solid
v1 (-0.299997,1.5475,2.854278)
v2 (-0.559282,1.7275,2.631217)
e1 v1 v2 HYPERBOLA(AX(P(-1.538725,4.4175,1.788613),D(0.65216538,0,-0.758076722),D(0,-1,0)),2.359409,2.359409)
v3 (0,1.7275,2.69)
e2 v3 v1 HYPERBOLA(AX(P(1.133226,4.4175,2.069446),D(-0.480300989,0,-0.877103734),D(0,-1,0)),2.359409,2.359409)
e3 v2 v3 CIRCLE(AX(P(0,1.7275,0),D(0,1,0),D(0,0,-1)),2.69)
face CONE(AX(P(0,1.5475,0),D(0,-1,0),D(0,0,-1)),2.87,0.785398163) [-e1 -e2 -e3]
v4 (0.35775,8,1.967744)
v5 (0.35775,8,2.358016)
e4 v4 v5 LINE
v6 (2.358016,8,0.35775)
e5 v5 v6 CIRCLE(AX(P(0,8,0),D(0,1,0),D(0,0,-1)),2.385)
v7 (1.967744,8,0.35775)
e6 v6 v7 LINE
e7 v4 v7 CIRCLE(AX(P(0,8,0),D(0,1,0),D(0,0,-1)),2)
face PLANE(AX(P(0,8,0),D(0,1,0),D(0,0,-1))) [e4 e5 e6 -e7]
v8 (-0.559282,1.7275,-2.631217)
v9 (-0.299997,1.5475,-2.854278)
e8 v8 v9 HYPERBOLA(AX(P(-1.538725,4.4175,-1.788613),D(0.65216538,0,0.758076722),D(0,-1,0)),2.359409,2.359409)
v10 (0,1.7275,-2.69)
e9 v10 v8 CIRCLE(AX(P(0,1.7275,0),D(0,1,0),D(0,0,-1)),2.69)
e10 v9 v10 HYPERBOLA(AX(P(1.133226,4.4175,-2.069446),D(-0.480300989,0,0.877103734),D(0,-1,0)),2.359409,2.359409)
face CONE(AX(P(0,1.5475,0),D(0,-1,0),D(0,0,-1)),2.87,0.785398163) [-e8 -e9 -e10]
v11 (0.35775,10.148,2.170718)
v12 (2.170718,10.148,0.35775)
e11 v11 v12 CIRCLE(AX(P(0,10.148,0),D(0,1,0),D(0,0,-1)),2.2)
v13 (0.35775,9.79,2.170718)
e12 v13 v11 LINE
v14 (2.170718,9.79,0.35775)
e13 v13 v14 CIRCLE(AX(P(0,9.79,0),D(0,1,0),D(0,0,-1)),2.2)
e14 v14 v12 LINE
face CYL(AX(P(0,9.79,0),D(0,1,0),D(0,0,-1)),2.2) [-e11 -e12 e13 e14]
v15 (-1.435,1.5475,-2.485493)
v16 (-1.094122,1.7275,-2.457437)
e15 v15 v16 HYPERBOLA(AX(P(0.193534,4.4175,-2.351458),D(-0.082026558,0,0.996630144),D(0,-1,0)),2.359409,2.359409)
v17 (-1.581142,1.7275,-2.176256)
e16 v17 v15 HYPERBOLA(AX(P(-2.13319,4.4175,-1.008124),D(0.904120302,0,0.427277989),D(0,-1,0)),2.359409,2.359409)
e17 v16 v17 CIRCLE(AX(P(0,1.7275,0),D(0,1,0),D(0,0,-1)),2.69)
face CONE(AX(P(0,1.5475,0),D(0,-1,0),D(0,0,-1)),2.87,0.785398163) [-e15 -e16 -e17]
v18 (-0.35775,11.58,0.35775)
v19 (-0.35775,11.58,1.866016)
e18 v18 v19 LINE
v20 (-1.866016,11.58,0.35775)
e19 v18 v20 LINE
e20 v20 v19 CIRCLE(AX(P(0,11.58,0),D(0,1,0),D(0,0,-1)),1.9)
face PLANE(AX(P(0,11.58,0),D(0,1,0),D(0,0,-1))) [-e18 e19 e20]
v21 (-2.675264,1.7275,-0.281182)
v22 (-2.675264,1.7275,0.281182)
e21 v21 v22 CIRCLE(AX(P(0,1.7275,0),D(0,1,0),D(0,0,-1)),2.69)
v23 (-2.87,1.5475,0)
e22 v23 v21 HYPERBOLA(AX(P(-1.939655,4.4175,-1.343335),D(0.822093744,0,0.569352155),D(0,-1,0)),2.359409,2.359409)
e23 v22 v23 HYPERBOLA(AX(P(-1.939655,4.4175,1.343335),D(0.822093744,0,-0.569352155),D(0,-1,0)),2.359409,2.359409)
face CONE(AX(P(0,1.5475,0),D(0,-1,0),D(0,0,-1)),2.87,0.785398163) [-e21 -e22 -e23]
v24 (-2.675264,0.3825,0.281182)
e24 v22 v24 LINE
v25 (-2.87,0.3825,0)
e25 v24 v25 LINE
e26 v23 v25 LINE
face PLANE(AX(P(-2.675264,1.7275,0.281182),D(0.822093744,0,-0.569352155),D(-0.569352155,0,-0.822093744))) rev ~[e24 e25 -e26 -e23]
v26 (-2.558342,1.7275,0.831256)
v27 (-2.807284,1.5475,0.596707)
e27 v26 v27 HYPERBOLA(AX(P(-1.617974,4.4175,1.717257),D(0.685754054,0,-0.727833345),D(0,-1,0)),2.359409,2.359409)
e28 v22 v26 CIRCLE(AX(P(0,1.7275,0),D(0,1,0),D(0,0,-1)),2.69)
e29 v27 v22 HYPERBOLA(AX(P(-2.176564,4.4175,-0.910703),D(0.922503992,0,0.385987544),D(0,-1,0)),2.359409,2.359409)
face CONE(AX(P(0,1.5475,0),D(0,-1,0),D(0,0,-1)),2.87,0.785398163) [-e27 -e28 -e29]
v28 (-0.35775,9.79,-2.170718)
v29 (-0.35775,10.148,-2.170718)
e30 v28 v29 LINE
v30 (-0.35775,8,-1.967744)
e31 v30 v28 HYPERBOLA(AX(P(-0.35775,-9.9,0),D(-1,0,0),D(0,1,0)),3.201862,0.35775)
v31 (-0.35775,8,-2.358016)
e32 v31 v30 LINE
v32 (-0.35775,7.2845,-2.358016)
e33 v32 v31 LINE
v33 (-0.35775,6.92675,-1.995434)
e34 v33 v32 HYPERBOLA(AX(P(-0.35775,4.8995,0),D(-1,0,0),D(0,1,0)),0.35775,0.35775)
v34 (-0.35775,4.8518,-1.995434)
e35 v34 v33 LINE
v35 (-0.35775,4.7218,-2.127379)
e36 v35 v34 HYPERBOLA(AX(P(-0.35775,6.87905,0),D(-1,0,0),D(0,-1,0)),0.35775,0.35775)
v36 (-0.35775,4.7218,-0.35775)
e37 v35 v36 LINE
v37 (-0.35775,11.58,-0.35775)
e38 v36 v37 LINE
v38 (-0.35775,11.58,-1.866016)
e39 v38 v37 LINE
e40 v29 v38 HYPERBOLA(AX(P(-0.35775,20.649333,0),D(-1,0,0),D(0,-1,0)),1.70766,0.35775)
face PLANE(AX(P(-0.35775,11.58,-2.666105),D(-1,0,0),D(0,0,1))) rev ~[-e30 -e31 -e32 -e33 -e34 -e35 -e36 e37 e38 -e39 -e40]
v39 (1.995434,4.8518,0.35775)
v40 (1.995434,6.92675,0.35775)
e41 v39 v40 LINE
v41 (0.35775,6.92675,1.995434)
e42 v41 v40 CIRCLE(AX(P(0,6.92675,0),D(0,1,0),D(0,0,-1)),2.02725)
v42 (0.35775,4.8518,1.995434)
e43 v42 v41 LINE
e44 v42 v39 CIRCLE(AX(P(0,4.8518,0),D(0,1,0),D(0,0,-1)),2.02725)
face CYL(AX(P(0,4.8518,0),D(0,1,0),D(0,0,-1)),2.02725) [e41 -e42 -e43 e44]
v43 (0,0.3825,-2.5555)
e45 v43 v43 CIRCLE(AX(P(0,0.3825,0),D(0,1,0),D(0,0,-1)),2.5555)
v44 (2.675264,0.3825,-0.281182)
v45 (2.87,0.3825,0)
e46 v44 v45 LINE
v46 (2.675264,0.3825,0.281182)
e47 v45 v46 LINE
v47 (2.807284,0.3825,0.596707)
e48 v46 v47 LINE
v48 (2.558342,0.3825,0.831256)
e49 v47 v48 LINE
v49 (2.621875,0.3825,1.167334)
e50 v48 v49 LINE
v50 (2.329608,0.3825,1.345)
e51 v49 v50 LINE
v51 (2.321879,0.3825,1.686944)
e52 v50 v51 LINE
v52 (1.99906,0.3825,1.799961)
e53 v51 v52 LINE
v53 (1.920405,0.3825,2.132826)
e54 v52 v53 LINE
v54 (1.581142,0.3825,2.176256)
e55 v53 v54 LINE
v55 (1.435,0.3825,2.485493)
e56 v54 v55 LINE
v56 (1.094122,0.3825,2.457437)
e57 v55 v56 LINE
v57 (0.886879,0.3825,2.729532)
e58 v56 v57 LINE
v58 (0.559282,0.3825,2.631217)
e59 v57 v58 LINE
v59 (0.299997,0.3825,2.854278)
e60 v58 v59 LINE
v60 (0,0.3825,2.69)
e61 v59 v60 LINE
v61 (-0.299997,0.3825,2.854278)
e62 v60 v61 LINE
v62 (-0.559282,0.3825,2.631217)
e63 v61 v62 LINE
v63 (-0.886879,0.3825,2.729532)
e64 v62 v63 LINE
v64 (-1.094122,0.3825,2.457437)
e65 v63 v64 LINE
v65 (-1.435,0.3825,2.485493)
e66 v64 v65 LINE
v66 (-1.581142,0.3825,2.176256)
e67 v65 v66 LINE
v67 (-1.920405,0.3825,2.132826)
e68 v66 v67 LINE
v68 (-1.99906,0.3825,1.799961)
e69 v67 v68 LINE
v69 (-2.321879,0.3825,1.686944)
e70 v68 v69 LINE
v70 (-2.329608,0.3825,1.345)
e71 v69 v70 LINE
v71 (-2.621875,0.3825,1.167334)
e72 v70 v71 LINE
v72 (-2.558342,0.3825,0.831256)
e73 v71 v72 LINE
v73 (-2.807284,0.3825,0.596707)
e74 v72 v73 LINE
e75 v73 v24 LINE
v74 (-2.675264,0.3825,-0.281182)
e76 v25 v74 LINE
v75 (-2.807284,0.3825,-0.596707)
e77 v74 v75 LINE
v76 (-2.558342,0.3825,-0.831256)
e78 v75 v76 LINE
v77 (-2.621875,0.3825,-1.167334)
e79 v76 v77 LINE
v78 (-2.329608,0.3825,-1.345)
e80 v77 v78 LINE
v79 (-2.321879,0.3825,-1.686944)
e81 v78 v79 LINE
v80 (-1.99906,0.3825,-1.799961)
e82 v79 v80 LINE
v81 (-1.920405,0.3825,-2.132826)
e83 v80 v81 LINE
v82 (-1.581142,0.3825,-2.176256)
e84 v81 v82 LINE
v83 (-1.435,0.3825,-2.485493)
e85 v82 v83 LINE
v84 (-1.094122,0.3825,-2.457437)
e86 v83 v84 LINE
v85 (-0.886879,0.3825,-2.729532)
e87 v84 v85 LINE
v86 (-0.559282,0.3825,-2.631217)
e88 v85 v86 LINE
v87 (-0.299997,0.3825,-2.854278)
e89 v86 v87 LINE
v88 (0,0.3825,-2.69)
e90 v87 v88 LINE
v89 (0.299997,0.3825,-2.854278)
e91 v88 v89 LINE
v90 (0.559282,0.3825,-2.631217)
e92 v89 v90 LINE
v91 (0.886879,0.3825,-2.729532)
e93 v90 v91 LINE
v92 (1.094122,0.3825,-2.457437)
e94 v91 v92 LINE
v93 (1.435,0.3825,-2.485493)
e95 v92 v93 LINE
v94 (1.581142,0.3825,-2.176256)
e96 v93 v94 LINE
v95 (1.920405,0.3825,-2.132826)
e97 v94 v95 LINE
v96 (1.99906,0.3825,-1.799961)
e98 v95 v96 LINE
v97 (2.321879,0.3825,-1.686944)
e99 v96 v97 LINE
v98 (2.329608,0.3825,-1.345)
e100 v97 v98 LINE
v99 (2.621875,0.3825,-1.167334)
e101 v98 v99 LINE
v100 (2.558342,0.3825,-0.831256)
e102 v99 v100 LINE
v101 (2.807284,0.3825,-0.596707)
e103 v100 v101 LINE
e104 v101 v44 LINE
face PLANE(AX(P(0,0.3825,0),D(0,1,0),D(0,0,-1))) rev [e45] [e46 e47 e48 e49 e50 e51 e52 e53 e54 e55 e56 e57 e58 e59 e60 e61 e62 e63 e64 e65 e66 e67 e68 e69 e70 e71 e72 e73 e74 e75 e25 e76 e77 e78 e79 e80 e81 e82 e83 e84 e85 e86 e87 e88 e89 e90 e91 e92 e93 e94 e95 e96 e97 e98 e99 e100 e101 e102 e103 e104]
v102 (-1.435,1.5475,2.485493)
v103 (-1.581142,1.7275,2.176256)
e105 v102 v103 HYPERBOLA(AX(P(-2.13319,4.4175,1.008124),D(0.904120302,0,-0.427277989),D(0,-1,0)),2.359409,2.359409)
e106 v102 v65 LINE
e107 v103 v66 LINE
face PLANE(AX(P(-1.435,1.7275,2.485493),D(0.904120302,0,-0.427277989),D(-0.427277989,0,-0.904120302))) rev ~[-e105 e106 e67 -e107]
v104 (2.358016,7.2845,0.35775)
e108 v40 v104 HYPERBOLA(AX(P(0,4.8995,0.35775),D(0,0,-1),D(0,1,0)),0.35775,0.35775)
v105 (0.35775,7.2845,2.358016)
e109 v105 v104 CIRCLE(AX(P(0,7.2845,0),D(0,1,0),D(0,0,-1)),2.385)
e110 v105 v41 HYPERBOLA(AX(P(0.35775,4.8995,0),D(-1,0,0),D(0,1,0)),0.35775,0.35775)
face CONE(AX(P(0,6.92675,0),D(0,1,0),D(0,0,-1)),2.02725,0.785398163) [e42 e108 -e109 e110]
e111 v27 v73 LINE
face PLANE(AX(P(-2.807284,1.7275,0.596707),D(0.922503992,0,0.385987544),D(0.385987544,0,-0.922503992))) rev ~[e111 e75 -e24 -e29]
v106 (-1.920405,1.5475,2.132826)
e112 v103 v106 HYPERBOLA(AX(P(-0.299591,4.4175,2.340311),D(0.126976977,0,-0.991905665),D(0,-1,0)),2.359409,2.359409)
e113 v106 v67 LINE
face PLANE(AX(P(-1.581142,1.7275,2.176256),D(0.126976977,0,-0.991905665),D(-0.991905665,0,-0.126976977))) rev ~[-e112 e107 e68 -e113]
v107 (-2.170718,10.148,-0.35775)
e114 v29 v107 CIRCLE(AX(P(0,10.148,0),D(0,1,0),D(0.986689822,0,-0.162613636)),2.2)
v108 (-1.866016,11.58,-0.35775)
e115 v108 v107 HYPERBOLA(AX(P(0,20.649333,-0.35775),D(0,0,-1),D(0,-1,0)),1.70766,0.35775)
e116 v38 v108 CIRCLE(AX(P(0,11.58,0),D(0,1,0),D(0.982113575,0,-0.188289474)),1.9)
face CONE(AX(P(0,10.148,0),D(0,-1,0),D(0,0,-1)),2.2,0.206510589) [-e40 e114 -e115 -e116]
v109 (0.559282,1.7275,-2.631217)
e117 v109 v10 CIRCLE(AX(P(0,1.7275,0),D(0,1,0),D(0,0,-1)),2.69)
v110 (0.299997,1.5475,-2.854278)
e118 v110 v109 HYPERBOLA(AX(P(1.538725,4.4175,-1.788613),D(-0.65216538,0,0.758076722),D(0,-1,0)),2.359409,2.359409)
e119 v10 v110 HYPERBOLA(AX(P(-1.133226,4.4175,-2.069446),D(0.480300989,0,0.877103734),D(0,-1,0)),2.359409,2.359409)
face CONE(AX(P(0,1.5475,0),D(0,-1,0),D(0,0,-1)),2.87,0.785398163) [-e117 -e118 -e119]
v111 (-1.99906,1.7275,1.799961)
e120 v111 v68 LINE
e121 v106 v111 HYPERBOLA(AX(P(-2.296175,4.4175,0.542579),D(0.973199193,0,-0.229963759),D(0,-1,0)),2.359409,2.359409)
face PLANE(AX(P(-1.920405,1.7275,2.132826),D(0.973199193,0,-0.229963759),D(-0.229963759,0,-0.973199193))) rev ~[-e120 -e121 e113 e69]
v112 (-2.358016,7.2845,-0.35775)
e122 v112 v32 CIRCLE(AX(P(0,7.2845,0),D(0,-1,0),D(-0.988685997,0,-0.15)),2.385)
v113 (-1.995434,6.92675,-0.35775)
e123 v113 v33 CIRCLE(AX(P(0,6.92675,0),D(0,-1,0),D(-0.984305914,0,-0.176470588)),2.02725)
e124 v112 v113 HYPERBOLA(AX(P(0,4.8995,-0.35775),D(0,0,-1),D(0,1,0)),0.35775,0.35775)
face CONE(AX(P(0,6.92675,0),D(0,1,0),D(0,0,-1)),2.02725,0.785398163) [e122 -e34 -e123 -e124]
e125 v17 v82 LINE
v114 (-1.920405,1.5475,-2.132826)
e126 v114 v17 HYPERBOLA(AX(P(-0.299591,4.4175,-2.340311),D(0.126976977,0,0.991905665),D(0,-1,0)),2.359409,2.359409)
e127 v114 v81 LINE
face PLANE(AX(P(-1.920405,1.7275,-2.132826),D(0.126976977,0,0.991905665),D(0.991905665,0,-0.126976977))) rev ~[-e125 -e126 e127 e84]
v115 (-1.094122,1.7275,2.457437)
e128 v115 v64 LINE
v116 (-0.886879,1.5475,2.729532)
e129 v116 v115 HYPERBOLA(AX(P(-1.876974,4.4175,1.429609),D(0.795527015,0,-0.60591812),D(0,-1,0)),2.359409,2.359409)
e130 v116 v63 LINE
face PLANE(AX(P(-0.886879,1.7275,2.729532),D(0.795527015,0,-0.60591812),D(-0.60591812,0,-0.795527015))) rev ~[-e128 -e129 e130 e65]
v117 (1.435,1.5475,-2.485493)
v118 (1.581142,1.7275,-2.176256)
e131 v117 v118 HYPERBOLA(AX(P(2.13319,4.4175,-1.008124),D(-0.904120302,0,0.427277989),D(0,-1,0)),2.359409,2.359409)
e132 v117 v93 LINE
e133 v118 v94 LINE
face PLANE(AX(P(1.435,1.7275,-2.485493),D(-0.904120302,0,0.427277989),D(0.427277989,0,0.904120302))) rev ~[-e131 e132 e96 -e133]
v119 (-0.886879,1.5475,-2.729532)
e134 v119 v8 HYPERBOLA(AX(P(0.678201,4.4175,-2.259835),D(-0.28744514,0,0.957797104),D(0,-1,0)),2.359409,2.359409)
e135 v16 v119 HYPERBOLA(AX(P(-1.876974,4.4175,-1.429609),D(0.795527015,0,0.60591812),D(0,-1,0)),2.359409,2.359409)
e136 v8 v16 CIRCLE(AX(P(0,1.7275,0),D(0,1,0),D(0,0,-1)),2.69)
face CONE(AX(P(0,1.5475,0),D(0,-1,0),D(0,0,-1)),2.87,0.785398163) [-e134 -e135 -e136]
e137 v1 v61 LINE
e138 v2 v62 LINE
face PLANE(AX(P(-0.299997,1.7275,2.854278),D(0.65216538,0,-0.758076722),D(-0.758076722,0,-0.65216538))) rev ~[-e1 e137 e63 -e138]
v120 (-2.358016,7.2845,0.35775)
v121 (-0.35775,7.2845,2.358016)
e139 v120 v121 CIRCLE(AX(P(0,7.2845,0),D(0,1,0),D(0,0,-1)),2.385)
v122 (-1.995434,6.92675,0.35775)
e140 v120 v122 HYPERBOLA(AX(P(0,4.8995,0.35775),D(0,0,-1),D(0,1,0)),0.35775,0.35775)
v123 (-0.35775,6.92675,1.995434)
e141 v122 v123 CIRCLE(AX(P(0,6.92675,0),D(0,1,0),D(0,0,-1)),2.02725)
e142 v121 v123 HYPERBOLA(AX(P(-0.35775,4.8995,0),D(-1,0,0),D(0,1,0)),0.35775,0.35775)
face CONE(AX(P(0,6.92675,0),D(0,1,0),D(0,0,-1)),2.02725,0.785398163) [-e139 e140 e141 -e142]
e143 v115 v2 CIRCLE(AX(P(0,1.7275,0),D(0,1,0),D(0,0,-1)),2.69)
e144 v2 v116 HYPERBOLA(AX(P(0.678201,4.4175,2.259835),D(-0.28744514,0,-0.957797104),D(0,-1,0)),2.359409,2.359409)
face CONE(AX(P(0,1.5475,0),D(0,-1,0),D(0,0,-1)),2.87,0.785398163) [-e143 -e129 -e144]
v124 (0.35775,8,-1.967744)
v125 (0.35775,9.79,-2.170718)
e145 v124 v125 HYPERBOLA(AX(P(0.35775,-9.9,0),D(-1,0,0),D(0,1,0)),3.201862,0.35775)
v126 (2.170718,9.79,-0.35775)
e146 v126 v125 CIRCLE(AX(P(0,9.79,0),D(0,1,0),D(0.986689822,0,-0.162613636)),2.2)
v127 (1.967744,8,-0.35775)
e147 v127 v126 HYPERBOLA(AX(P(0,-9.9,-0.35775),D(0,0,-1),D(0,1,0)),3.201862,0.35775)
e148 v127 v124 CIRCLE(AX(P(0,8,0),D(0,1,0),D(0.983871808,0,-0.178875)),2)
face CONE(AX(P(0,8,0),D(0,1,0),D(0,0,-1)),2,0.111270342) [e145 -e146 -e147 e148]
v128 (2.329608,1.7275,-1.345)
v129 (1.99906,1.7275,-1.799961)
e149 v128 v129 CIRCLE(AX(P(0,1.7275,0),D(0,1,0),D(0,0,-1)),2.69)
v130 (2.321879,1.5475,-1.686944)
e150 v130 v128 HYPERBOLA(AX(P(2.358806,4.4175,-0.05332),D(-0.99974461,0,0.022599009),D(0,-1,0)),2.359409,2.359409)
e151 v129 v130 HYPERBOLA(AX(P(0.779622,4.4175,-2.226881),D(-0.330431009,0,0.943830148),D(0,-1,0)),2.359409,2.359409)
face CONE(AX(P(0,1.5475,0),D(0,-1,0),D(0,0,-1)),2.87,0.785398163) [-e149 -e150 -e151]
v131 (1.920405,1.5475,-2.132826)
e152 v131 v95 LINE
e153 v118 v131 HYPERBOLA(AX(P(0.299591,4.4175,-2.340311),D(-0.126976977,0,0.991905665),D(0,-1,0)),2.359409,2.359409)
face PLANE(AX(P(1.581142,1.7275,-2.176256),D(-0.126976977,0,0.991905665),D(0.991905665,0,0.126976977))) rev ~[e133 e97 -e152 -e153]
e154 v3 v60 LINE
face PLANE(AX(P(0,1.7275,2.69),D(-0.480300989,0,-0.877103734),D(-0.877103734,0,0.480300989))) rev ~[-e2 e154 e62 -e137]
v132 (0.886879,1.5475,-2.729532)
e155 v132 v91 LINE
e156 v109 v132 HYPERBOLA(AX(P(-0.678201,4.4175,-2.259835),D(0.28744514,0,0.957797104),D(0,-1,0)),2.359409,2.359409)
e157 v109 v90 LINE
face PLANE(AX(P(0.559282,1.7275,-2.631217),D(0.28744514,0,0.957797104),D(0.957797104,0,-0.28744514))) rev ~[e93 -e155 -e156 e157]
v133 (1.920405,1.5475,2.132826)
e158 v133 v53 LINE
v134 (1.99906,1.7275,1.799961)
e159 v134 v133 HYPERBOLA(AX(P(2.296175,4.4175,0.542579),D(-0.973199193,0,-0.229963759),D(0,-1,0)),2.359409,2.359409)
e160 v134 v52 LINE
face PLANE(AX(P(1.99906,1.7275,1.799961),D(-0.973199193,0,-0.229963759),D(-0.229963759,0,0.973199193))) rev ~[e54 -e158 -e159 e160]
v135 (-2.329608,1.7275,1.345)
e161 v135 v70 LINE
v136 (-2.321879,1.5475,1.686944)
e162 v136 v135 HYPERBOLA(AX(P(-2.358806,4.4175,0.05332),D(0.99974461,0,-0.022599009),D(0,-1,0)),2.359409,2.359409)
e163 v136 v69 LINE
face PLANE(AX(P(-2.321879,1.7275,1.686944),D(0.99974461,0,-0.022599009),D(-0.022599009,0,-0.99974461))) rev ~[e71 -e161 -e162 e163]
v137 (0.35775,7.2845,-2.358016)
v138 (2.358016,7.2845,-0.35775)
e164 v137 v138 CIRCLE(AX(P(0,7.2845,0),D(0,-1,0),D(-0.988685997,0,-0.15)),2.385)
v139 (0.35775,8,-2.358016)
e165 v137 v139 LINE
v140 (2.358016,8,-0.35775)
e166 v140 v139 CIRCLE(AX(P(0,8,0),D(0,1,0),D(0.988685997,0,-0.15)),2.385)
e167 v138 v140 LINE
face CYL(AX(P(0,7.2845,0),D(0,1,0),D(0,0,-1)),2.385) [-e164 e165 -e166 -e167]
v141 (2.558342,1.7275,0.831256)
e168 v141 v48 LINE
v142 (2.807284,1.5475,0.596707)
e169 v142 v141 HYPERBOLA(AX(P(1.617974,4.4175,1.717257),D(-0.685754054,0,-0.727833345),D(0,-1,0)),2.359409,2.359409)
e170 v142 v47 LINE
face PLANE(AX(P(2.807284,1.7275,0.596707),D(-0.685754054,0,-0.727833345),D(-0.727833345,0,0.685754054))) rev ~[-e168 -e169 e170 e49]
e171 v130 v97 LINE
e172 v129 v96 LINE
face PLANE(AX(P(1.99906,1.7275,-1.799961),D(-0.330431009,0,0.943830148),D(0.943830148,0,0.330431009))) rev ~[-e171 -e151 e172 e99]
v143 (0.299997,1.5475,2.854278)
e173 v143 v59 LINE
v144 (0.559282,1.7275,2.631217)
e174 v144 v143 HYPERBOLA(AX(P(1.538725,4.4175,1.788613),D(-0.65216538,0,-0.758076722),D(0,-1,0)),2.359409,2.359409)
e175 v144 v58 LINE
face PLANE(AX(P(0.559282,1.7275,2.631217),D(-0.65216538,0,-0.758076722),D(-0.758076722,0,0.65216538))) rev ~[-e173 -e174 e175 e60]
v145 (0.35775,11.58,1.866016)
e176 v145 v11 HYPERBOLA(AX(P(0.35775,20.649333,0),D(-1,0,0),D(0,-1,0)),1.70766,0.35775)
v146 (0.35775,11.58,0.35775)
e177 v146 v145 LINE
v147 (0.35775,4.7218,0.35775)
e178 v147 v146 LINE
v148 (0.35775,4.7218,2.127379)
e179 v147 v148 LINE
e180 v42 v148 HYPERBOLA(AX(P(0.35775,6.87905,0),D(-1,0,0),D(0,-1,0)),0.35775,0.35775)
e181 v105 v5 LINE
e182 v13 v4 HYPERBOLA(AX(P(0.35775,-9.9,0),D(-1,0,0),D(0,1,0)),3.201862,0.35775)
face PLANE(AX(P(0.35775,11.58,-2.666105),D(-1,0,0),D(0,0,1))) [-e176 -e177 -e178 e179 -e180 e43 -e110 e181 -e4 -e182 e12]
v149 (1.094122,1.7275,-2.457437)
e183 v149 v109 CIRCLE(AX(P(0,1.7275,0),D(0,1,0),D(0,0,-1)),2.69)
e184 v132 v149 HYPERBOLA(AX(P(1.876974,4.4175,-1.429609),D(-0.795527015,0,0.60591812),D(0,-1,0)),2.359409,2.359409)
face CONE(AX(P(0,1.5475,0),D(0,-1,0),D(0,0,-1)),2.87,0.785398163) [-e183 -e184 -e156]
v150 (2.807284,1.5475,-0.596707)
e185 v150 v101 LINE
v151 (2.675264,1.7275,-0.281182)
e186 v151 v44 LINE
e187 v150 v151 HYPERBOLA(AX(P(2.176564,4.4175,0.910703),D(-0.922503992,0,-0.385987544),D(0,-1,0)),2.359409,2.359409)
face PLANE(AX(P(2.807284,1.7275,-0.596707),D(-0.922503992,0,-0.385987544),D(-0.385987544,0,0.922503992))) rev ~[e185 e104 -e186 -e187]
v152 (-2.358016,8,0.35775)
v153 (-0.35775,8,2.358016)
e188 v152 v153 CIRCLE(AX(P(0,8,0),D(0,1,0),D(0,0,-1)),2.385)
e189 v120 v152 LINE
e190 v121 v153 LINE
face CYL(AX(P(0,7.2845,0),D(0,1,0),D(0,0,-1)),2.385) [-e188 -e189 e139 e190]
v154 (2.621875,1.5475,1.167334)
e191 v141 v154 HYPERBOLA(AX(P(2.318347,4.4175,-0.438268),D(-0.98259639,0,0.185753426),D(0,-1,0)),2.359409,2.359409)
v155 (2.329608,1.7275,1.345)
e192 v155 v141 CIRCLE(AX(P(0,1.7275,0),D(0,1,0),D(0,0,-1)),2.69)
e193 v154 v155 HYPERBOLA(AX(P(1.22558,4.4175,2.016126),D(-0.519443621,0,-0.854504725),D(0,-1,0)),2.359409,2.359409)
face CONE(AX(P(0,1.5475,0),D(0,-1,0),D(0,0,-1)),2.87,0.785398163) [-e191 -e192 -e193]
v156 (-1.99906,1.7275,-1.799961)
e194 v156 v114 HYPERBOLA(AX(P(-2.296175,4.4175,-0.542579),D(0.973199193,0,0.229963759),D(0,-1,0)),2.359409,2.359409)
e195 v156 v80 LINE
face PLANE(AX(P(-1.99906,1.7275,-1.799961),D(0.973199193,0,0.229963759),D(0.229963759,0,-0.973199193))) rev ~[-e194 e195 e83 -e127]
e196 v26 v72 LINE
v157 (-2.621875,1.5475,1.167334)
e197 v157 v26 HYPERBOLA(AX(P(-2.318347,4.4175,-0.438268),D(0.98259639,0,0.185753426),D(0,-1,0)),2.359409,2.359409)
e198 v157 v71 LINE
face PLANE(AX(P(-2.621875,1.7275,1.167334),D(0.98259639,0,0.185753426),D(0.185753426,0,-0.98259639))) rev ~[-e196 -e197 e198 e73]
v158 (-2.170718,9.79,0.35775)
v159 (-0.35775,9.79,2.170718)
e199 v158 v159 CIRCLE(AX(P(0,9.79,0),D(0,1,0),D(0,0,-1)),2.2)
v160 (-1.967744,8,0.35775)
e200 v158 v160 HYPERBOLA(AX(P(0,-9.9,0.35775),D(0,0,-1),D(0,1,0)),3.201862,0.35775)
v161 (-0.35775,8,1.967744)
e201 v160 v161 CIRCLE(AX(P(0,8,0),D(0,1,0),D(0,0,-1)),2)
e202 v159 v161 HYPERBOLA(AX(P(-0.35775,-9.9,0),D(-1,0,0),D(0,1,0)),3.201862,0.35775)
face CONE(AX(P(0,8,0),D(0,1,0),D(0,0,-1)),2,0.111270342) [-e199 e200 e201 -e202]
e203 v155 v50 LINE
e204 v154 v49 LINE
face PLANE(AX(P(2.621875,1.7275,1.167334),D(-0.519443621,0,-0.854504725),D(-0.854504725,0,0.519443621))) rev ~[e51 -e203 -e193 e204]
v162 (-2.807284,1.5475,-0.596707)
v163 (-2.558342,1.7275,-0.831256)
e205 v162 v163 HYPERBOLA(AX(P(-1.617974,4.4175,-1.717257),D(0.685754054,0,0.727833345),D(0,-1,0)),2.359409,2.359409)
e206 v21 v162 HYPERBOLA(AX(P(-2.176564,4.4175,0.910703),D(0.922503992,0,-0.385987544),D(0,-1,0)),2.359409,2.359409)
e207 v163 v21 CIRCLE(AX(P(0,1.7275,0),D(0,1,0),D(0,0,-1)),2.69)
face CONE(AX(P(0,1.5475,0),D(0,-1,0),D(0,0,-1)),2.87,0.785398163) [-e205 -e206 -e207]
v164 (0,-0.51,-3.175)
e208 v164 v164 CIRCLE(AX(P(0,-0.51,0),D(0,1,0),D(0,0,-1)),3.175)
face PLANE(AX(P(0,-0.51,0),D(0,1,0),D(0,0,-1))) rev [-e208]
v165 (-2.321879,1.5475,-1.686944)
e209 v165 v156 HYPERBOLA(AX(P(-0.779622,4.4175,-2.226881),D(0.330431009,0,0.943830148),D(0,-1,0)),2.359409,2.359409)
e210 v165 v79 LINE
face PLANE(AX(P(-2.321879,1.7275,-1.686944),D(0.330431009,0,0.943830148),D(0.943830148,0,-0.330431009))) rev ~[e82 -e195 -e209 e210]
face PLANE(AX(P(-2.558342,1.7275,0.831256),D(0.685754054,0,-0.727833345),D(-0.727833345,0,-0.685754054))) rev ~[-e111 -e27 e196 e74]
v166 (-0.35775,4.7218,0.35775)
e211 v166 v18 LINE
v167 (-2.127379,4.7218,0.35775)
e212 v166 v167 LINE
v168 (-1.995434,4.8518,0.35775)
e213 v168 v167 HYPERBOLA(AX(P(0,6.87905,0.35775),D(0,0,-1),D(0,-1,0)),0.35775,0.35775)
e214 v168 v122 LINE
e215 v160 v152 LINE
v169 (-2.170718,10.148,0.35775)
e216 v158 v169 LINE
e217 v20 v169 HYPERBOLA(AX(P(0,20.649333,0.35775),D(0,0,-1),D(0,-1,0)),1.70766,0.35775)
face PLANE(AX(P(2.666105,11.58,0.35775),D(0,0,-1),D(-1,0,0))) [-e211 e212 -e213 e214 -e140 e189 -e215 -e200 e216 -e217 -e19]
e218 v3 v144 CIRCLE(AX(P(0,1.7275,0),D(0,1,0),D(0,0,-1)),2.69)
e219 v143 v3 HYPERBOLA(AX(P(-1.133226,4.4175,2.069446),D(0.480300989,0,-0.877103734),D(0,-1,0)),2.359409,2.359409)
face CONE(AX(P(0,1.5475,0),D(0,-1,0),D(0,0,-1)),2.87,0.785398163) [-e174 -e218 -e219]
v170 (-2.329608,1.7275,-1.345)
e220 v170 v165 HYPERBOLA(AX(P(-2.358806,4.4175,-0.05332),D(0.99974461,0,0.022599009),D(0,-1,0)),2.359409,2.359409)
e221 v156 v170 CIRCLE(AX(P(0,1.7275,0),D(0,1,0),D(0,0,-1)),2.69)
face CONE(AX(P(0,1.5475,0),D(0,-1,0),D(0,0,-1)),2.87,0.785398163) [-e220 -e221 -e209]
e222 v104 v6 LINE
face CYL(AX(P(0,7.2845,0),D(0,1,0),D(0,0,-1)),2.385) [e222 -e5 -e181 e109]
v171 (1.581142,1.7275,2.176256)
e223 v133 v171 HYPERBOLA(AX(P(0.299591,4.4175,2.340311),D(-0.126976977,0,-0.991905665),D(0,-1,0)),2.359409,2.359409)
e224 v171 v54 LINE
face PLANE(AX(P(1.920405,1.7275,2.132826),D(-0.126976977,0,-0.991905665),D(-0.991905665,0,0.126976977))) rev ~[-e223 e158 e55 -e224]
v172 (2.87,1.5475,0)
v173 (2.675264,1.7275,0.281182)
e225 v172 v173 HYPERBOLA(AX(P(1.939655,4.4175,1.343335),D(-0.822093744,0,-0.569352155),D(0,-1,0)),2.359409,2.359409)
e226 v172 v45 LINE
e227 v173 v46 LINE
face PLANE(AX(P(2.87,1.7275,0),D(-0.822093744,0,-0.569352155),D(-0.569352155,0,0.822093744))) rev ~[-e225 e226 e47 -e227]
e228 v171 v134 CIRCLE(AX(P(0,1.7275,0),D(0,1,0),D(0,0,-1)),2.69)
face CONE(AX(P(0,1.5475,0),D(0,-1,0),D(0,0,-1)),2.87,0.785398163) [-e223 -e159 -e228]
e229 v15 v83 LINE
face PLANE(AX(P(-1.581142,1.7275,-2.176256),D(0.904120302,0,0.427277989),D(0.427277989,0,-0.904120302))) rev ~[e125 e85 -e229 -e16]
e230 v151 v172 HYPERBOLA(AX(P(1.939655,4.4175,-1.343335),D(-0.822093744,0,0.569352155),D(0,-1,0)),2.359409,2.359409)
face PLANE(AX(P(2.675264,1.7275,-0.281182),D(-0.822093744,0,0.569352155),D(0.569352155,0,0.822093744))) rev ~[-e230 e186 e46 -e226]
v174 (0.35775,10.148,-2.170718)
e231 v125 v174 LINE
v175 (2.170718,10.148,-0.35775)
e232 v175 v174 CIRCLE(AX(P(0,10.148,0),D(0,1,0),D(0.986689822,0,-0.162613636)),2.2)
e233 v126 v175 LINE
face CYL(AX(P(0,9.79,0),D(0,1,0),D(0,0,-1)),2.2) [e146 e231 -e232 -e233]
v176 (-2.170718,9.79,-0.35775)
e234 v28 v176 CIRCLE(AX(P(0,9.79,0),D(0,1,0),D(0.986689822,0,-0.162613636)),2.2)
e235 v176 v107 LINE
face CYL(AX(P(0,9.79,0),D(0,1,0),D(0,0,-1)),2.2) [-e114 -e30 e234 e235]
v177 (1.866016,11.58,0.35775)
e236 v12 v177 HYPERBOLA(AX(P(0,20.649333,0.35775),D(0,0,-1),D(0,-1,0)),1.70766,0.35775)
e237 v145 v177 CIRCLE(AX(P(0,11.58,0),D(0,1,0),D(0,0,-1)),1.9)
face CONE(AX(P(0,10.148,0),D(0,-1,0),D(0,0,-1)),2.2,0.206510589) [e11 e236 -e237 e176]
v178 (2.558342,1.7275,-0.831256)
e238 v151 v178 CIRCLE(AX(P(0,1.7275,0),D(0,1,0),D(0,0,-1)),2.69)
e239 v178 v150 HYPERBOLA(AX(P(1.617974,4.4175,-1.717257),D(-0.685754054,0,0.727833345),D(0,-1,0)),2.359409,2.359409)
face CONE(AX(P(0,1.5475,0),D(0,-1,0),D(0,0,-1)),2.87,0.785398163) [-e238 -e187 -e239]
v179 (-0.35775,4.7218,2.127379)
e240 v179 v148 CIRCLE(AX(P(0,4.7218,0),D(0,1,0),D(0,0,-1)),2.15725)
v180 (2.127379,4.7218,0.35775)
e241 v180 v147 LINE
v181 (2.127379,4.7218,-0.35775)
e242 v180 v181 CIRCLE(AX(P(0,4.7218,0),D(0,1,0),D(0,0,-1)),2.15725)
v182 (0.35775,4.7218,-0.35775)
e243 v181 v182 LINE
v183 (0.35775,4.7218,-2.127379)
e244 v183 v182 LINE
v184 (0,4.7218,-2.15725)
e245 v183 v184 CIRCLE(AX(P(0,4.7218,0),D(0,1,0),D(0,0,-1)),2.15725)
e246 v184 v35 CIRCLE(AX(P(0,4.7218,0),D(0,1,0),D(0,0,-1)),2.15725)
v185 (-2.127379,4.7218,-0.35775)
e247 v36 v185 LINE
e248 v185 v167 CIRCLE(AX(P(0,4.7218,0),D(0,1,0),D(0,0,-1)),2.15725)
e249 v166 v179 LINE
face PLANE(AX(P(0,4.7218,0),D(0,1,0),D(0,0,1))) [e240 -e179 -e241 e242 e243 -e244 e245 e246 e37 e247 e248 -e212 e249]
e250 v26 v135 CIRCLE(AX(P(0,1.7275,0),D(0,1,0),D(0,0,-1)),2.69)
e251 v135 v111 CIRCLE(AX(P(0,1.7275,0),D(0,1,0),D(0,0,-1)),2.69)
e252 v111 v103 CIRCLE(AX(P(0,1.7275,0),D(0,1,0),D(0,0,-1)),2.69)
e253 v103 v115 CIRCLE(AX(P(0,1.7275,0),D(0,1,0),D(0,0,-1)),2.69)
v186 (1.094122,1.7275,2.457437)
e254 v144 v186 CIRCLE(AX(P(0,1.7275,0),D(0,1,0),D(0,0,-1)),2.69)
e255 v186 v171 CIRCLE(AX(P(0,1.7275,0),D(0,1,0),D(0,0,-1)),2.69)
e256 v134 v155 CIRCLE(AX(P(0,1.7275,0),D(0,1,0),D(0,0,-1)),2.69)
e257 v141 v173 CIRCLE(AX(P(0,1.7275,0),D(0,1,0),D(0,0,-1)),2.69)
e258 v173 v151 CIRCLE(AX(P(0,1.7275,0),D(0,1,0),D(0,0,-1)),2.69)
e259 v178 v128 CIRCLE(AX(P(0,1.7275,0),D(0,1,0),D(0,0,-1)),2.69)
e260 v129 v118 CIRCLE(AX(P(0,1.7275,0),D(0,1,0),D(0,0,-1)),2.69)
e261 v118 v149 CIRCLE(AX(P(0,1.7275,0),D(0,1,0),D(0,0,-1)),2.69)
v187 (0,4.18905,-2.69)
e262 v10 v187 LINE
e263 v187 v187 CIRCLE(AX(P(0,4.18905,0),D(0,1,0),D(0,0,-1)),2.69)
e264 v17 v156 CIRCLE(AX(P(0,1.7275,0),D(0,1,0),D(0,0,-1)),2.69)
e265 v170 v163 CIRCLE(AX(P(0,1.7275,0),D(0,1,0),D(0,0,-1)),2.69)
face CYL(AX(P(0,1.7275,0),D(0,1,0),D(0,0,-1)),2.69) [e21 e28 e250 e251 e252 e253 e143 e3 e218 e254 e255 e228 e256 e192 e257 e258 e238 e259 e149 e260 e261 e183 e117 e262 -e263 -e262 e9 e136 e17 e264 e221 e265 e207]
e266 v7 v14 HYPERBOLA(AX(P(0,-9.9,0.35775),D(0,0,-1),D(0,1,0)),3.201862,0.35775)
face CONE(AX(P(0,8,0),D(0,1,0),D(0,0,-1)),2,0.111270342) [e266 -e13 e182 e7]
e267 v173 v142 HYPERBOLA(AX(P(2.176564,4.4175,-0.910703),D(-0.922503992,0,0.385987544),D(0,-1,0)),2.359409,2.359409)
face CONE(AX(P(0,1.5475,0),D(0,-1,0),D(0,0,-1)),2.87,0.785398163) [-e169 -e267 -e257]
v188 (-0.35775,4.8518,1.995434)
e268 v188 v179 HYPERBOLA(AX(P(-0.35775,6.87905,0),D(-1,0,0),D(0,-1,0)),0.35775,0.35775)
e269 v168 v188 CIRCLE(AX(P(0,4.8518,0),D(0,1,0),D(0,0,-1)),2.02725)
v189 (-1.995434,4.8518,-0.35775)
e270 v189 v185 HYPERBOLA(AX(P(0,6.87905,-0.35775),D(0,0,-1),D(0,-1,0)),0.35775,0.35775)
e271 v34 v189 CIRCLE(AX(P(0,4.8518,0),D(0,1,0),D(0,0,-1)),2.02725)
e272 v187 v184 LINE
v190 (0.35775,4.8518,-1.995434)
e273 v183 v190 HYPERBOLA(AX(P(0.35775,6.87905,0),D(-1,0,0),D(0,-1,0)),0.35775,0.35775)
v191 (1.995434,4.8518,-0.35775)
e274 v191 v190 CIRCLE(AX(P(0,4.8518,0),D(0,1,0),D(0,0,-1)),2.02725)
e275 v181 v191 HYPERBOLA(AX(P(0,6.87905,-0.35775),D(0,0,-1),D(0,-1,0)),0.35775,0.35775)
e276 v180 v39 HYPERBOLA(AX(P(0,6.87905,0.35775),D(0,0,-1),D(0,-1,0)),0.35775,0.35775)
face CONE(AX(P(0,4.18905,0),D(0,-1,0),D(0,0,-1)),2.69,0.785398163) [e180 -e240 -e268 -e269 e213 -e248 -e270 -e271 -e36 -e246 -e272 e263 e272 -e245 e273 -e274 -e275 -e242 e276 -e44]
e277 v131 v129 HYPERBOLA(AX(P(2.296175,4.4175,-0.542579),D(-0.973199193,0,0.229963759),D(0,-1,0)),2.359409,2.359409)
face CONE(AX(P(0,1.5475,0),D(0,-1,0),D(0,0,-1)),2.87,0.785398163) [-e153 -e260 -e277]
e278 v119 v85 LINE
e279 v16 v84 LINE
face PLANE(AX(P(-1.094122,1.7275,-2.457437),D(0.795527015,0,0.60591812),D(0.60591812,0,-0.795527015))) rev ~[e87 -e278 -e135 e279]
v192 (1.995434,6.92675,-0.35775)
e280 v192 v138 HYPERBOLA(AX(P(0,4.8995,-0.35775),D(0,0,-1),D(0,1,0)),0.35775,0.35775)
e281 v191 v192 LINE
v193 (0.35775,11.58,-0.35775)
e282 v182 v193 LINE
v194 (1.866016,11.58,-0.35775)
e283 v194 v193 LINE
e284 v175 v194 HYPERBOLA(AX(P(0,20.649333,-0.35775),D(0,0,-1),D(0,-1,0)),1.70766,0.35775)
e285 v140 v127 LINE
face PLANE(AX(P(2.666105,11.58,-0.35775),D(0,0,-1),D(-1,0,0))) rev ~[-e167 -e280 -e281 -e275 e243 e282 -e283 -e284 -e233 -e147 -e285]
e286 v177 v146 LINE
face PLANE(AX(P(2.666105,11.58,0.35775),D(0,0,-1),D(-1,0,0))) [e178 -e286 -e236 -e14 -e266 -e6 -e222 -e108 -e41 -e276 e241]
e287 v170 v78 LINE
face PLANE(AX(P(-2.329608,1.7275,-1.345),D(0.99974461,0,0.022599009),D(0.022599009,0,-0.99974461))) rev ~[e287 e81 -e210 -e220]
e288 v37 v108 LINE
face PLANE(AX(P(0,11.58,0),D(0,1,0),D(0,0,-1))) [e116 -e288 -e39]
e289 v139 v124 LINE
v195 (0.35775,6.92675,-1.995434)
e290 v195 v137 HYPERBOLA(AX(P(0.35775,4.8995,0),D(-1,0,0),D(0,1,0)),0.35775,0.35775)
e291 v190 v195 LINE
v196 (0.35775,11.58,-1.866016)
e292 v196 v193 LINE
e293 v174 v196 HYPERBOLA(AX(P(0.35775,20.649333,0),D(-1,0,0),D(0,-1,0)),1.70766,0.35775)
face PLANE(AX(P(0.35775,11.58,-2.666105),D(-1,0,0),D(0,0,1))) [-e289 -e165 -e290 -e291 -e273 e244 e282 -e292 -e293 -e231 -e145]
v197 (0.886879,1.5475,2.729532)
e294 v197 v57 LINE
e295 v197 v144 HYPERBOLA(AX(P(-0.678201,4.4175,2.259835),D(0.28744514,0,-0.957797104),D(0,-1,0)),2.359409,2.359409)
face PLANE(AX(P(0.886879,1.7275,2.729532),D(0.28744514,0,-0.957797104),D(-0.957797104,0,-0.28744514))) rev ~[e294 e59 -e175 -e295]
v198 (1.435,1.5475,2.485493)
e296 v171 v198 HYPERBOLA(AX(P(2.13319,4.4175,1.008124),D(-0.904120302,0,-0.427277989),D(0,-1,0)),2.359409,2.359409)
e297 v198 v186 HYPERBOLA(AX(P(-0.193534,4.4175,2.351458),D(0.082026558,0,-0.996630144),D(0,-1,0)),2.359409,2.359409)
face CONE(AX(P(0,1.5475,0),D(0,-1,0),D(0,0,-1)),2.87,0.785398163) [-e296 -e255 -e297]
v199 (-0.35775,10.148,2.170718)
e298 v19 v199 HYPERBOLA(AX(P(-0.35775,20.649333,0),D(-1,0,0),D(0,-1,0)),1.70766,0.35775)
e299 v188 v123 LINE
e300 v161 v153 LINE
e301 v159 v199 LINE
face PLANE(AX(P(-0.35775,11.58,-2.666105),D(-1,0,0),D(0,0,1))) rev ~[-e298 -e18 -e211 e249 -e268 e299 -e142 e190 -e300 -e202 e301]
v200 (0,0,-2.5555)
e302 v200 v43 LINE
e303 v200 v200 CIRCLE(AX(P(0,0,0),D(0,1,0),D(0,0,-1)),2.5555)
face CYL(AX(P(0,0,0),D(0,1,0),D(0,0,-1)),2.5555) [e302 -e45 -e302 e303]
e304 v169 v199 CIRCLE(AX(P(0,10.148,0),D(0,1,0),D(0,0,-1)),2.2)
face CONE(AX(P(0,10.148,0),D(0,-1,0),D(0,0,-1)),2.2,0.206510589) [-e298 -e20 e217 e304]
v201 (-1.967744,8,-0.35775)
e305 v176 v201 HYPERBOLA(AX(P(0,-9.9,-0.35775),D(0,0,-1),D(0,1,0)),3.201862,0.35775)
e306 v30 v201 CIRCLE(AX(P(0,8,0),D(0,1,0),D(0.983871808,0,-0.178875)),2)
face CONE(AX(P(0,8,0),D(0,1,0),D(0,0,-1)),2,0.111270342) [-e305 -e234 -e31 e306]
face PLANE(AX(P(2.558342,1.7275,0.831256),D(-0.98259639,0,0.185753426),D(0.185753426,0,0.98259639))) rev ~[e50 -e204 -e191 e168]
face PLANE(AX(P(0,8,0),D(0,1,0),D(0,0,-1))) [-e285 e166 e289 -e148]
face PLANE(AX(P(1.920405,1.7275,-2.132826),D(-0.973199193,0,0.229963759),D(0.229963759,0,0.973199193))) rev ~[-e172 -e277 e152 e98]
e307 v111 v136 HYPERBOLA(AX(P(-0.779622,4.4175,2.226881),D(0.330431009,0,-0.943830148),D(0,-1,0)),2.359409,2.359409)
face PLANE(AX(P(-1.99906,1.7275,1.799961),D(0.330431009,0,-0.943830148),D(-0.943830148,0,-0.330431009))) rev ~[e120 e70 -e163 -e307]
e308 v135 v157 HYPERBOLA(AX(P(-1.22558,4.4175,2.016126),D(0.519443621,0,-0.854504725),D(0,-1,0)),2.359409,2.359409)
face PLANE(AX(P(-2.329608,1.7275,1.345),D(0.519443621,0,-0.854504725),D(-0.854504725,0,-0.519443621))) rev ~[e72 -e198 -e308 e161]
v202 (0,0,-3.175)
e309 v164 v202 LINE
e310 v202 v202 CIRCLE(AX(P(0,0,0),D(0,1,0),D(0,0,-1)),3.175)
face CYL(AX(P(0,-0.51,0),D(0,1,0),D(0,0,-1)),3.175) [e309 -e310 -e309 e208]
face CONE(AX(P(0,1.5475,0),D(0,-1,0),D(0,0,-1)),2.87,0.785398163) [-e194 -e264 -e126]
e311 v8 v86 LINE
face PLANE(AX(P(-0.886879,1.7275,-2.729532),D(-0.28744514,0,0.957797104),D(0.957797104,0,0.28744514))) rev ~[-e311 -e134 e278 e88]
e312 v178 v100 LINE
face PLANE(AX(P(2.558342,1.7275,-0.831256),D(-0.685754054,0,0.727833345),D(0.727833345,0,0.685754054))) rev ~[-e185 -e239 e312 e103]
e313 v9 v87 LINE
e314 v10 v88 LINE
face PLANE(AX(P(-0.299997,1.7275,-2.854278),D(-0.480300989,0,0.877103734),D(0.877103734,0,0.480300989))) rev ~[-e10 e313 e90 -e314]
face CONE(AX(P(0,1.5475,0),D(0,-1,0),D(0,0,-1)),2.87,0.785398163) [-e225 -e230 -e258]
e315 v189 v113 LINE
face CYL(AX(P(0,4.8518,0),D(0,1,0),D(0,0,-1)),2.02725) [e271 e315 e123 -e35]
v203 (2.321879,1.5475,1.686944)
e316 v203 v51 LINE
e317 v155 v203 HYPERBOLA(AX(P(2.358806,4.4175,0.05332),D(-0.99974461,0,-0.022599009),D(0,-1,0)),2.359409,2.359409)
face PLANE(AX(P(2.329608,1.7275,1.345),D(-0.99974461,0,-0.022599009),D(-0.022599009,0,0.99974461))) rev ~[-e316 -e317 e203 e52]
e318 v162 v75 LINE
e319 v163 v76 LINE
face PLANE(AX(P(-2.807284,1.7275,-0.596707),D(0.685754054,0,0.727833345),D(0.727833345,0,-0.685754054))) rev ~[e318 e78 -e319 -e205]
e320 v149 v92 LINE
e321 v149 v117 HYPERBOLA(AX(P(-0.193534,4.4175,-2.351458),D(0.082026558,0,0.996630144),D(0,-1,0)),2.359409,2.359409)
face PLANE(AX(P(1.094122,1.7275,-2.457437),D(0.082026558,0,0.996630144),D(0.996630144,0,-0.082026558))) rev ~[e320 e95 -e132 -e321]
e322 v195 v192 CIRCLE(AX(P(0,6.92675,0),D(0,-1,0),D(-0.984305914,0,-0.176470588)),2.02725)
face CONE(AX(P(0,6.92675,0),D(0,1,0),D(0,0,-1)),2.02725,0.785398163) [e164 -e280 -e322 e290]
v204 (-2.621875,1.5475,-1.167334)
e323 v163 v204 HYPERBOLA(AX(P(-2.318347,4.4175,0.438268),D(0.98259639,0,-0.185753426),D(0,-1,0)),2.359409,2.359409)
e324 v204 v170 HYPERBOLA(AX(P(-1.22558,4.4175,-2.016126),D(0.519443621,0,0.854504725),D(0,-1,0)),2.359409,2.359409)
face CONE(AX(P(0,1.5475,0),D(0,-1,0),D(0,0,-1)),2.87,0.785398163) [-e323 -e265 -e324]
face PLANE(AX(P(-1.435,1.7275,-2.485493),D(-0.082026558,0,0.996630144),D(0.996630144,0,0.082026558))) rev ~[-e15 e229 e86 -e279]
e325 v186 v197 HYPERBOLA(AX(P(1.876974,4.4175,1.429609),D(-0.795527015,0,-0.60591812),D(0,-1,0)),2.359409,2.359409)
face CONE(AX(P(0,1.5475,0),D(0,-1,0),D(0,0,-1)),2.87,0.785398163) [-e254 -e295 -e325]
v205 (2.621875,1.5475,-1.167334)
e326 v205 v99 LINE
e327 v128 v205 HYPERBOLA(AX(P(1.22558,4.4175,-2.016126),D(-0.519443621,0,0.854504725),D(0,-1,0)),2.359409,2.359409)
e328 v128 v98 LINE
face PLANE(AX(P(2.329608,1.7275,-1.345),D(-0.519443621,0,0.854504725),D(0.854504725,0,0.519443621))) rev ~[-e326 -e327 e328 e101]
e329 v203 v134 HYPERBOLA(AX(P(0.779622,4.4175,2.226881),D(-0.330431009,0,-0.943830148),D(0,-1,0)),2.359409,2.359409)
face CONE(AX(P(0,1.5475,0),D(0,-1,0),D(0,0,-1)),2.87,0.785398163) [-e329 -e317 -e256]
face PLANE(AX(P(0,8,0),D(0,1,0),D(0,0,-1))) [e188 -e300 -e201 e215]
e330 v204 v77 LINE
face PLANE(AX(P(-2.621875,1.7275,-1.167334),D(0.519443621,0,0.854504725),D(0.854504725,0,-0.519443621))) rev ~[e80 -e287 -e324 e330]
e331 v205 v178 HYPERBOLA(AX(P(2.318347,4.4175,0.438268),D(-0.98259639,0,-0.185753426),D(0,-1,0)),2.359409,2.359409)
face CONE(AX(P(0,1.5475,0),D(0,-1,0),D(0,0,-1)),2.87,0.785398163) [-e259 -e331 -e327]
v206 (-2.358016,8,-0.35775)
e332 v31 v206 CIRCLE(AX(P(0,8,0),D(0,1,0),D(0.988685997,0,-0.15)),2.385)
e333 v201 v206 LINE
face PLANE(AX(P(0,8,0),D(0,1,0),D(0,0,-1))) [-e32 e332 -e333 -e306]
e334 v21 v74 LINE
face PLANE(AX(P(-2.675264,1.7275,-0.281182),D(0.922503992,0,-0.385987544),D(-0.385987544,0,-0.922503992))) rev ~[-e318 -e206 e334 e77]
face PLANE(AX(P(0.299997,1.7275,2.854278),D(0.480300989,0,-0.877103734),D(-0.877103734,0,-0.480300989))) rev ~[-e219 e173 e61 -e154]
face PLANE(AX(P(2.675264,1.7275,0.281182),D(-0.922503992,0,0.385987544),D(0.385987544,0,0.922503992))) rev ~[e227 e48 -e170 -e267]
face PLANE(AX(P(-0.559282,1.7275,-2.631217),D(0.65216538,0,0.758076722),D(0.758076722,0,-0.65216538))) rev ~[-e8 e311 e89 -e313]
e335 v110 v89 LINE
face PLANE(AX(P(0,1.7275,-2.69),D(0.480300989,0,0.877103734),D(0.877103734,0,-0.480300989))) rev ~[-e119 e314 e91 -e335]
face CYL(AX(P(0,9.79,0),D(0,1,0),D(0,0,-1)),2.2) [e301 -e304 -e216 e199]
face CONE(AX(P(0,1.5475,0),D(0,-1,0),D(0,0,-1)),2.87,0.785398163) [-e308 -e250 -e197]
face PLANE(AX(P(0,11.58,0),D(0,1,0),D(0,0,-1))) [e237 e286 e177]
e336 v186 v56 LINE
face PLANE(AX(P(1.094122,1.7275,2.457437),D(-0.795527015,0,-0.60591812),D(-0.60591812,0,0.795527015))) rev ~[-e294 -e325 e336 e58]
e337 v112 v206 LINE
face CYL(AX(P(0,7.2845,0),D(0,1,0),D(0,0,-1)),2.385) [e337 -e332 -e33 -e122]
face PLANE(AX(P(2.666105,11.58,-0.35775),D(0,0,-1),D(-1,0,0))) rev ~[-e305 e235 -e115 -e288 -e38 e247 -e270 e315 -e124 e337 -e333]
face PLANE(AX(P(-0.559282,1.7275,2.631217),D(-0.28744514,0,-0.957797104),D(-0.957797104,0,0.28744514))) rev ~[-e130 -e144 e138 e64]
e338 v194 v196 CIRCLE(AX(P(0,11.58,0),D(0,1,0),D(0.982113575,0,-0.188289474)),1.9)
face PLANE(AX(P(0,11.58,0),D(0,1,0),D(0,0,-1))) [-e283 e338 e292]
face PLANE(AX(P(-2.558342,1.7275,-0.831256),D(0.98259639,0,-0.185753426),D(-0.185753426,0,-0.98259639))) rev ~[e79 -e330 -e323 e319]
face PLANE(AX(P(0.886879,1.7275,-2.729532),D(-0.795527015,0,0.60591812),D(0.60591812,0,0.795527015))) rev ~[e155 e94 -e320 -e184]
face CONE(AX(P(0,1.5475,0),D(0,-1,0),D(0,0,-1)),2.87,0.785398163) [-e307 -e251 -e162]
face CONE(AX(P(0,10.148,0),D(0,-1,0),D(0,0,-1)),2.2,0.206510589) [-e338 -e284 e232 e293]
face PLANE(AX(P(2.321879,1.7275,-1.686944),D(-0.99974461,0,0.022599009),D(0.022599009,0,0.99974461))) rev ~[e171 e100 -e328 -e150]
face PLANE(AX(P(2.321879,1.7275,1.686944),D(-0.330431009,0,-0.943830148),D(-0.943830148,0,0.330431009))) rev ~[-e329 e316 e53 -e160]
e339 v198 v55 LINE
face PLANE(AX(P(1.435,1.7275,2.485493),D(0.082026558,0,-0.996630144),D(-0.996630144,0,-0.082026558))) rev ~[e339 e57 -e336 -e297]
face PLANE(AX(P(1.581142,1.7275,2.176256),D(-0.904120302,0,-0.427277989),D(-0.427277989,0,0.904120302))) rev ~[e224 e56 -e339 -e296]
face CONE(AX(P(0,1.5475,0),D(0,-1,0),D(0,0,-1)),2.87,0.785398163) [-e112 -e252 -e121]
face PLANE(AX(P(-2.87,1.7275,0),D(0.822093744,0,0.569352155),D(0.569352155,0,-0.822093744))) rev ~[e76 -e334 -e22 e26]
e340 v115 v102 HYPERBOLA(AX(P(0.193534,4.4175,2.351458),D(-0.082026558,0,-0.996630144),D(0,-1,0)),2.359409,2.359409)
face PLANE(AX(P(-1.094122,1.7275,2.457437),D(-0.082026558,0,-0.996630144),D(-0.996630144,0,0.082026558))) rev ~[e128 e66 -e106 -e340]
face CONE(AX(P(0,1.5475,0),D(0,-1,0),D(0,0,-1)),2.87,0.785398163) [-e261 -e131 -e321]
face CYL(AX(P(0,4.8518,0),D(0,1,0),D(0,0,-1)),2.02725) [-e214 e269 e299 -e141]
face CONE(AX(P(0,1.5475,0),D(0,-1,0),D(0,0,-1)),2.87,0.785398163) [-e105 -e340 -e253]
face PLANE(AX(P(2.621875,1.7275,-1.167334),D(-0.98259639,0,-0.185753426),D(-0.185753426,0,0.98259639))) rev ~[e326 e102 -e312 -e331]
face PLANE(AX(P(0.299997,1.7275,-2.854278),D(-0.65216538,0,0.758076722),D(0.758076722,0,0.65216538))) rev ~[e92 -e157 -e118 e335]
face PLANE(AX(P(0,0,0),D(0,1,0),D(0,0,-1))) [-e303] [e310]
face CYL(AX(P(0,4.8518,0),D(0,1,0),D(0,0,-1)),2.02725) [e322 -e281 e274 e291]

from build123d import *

# Parameters (mm, degrees)
SLITCUTSKE_W       = 5.33220965
SLITCUTSKE_H       = 0.7155
SLITCUT_DEPTH      = 6.8582
SLITCUTPAT_COUNT   = 2
SLITCUTPAT_ANGLE   = 90
CLINCHCUT_START    = -1.345
CLINCHCUT_DEPTH    = 1.345
CLINCHCUTPAT_COUNT = 30
CLINCHCUTPAT_ANGLE = 348


with BuildPart() as part:
    # BodySke → Body (revolve)
    with BuildSketch(Plane.XY, mode=Mode.PRIVATE) as body_sk:
        Polygon((2.5555, 0), (2.5555, 0.3825), (2.87, 0.3825), (2.87, 1.5475), (2.69, 1.7275), (2.69, 4.18905), (2.02725, 4.8518), (2.02725, 6.92675), (2.385, 7.2845), (2.385, 8), (2, 8), (2.2, 9.79), (2.2, 10.148), (1.9, 11.58), (0, 11.58), (0, -0.51), (3.175, -0.51), (3.175, 0), align=None)
    revolve(body_sk.sketch.rotate(Axis((0, -0.51, 0), (0, 1, 0)), 90), axis=Axis((0, -0.51, 0), (0, 1, 0)))

    # SlitCutSke → SlitCut (cut)
    with BuildSketch(Plane(origin=(0, 11.58, 0), x_dir=(-1, 0, 0), z_dir=(0, 1, 0))):
        Rectangle(SLITCUTSKE_W, SLITCUTSKE_H)
    slitcut = extrude(amount=-SLITCUT_DEPTH, mode=Mode.SUBTRACT)

    # SlitCutPat: SlitCut ×2 about axis
    slitcutpat_axis = Axis((0, -0.51, 0), (0, 1, 0))
    for i in range(1, SLITCUTPAT_COUNT):
        add(slitcut.rotate(slitcutpat_axis, i * SLITCUTPAT_ANGLE / (SLITCUTPAT_COUNT - 1)), mode=Mode.SUBTRACT)

    # CliRinCutSke → ClinchCut (cut)
    with BuildSketch(Plane.XZ.offset(-0.3825).offset(CLINCHCUT_START)):
        with BuildLine():
            Line((0.29999669, 2.85427784), (0, 2.69))
            Line((0, 2.69), (-0.29999669, 2.85427784))
            ThreePointArc((-0.29999669, 2.85427784), (0, 2.87), (0.29999669, 2.85427784))
        make_face()
    clinchcut = extrude(amount=CLINCHCUT_DEPTH, mode=Mode.SUBTRACT)

    # ClinchCutPat: ClinchCut ×30 about axis
    clinchcutpat_axis = Axis((0, -0.51, 0), (0, 1, 0))
    for i in range(1, CLINCHCUTPAT_COUNT):
        add(clinchcut.rotate(clinchcutpat_axis, i * CLINCHCUTPAT_ANGLE / (CLINCHCUTPAT_COUNT - 1)), mode=Mode.SUBTRACT)


solid = part.part
